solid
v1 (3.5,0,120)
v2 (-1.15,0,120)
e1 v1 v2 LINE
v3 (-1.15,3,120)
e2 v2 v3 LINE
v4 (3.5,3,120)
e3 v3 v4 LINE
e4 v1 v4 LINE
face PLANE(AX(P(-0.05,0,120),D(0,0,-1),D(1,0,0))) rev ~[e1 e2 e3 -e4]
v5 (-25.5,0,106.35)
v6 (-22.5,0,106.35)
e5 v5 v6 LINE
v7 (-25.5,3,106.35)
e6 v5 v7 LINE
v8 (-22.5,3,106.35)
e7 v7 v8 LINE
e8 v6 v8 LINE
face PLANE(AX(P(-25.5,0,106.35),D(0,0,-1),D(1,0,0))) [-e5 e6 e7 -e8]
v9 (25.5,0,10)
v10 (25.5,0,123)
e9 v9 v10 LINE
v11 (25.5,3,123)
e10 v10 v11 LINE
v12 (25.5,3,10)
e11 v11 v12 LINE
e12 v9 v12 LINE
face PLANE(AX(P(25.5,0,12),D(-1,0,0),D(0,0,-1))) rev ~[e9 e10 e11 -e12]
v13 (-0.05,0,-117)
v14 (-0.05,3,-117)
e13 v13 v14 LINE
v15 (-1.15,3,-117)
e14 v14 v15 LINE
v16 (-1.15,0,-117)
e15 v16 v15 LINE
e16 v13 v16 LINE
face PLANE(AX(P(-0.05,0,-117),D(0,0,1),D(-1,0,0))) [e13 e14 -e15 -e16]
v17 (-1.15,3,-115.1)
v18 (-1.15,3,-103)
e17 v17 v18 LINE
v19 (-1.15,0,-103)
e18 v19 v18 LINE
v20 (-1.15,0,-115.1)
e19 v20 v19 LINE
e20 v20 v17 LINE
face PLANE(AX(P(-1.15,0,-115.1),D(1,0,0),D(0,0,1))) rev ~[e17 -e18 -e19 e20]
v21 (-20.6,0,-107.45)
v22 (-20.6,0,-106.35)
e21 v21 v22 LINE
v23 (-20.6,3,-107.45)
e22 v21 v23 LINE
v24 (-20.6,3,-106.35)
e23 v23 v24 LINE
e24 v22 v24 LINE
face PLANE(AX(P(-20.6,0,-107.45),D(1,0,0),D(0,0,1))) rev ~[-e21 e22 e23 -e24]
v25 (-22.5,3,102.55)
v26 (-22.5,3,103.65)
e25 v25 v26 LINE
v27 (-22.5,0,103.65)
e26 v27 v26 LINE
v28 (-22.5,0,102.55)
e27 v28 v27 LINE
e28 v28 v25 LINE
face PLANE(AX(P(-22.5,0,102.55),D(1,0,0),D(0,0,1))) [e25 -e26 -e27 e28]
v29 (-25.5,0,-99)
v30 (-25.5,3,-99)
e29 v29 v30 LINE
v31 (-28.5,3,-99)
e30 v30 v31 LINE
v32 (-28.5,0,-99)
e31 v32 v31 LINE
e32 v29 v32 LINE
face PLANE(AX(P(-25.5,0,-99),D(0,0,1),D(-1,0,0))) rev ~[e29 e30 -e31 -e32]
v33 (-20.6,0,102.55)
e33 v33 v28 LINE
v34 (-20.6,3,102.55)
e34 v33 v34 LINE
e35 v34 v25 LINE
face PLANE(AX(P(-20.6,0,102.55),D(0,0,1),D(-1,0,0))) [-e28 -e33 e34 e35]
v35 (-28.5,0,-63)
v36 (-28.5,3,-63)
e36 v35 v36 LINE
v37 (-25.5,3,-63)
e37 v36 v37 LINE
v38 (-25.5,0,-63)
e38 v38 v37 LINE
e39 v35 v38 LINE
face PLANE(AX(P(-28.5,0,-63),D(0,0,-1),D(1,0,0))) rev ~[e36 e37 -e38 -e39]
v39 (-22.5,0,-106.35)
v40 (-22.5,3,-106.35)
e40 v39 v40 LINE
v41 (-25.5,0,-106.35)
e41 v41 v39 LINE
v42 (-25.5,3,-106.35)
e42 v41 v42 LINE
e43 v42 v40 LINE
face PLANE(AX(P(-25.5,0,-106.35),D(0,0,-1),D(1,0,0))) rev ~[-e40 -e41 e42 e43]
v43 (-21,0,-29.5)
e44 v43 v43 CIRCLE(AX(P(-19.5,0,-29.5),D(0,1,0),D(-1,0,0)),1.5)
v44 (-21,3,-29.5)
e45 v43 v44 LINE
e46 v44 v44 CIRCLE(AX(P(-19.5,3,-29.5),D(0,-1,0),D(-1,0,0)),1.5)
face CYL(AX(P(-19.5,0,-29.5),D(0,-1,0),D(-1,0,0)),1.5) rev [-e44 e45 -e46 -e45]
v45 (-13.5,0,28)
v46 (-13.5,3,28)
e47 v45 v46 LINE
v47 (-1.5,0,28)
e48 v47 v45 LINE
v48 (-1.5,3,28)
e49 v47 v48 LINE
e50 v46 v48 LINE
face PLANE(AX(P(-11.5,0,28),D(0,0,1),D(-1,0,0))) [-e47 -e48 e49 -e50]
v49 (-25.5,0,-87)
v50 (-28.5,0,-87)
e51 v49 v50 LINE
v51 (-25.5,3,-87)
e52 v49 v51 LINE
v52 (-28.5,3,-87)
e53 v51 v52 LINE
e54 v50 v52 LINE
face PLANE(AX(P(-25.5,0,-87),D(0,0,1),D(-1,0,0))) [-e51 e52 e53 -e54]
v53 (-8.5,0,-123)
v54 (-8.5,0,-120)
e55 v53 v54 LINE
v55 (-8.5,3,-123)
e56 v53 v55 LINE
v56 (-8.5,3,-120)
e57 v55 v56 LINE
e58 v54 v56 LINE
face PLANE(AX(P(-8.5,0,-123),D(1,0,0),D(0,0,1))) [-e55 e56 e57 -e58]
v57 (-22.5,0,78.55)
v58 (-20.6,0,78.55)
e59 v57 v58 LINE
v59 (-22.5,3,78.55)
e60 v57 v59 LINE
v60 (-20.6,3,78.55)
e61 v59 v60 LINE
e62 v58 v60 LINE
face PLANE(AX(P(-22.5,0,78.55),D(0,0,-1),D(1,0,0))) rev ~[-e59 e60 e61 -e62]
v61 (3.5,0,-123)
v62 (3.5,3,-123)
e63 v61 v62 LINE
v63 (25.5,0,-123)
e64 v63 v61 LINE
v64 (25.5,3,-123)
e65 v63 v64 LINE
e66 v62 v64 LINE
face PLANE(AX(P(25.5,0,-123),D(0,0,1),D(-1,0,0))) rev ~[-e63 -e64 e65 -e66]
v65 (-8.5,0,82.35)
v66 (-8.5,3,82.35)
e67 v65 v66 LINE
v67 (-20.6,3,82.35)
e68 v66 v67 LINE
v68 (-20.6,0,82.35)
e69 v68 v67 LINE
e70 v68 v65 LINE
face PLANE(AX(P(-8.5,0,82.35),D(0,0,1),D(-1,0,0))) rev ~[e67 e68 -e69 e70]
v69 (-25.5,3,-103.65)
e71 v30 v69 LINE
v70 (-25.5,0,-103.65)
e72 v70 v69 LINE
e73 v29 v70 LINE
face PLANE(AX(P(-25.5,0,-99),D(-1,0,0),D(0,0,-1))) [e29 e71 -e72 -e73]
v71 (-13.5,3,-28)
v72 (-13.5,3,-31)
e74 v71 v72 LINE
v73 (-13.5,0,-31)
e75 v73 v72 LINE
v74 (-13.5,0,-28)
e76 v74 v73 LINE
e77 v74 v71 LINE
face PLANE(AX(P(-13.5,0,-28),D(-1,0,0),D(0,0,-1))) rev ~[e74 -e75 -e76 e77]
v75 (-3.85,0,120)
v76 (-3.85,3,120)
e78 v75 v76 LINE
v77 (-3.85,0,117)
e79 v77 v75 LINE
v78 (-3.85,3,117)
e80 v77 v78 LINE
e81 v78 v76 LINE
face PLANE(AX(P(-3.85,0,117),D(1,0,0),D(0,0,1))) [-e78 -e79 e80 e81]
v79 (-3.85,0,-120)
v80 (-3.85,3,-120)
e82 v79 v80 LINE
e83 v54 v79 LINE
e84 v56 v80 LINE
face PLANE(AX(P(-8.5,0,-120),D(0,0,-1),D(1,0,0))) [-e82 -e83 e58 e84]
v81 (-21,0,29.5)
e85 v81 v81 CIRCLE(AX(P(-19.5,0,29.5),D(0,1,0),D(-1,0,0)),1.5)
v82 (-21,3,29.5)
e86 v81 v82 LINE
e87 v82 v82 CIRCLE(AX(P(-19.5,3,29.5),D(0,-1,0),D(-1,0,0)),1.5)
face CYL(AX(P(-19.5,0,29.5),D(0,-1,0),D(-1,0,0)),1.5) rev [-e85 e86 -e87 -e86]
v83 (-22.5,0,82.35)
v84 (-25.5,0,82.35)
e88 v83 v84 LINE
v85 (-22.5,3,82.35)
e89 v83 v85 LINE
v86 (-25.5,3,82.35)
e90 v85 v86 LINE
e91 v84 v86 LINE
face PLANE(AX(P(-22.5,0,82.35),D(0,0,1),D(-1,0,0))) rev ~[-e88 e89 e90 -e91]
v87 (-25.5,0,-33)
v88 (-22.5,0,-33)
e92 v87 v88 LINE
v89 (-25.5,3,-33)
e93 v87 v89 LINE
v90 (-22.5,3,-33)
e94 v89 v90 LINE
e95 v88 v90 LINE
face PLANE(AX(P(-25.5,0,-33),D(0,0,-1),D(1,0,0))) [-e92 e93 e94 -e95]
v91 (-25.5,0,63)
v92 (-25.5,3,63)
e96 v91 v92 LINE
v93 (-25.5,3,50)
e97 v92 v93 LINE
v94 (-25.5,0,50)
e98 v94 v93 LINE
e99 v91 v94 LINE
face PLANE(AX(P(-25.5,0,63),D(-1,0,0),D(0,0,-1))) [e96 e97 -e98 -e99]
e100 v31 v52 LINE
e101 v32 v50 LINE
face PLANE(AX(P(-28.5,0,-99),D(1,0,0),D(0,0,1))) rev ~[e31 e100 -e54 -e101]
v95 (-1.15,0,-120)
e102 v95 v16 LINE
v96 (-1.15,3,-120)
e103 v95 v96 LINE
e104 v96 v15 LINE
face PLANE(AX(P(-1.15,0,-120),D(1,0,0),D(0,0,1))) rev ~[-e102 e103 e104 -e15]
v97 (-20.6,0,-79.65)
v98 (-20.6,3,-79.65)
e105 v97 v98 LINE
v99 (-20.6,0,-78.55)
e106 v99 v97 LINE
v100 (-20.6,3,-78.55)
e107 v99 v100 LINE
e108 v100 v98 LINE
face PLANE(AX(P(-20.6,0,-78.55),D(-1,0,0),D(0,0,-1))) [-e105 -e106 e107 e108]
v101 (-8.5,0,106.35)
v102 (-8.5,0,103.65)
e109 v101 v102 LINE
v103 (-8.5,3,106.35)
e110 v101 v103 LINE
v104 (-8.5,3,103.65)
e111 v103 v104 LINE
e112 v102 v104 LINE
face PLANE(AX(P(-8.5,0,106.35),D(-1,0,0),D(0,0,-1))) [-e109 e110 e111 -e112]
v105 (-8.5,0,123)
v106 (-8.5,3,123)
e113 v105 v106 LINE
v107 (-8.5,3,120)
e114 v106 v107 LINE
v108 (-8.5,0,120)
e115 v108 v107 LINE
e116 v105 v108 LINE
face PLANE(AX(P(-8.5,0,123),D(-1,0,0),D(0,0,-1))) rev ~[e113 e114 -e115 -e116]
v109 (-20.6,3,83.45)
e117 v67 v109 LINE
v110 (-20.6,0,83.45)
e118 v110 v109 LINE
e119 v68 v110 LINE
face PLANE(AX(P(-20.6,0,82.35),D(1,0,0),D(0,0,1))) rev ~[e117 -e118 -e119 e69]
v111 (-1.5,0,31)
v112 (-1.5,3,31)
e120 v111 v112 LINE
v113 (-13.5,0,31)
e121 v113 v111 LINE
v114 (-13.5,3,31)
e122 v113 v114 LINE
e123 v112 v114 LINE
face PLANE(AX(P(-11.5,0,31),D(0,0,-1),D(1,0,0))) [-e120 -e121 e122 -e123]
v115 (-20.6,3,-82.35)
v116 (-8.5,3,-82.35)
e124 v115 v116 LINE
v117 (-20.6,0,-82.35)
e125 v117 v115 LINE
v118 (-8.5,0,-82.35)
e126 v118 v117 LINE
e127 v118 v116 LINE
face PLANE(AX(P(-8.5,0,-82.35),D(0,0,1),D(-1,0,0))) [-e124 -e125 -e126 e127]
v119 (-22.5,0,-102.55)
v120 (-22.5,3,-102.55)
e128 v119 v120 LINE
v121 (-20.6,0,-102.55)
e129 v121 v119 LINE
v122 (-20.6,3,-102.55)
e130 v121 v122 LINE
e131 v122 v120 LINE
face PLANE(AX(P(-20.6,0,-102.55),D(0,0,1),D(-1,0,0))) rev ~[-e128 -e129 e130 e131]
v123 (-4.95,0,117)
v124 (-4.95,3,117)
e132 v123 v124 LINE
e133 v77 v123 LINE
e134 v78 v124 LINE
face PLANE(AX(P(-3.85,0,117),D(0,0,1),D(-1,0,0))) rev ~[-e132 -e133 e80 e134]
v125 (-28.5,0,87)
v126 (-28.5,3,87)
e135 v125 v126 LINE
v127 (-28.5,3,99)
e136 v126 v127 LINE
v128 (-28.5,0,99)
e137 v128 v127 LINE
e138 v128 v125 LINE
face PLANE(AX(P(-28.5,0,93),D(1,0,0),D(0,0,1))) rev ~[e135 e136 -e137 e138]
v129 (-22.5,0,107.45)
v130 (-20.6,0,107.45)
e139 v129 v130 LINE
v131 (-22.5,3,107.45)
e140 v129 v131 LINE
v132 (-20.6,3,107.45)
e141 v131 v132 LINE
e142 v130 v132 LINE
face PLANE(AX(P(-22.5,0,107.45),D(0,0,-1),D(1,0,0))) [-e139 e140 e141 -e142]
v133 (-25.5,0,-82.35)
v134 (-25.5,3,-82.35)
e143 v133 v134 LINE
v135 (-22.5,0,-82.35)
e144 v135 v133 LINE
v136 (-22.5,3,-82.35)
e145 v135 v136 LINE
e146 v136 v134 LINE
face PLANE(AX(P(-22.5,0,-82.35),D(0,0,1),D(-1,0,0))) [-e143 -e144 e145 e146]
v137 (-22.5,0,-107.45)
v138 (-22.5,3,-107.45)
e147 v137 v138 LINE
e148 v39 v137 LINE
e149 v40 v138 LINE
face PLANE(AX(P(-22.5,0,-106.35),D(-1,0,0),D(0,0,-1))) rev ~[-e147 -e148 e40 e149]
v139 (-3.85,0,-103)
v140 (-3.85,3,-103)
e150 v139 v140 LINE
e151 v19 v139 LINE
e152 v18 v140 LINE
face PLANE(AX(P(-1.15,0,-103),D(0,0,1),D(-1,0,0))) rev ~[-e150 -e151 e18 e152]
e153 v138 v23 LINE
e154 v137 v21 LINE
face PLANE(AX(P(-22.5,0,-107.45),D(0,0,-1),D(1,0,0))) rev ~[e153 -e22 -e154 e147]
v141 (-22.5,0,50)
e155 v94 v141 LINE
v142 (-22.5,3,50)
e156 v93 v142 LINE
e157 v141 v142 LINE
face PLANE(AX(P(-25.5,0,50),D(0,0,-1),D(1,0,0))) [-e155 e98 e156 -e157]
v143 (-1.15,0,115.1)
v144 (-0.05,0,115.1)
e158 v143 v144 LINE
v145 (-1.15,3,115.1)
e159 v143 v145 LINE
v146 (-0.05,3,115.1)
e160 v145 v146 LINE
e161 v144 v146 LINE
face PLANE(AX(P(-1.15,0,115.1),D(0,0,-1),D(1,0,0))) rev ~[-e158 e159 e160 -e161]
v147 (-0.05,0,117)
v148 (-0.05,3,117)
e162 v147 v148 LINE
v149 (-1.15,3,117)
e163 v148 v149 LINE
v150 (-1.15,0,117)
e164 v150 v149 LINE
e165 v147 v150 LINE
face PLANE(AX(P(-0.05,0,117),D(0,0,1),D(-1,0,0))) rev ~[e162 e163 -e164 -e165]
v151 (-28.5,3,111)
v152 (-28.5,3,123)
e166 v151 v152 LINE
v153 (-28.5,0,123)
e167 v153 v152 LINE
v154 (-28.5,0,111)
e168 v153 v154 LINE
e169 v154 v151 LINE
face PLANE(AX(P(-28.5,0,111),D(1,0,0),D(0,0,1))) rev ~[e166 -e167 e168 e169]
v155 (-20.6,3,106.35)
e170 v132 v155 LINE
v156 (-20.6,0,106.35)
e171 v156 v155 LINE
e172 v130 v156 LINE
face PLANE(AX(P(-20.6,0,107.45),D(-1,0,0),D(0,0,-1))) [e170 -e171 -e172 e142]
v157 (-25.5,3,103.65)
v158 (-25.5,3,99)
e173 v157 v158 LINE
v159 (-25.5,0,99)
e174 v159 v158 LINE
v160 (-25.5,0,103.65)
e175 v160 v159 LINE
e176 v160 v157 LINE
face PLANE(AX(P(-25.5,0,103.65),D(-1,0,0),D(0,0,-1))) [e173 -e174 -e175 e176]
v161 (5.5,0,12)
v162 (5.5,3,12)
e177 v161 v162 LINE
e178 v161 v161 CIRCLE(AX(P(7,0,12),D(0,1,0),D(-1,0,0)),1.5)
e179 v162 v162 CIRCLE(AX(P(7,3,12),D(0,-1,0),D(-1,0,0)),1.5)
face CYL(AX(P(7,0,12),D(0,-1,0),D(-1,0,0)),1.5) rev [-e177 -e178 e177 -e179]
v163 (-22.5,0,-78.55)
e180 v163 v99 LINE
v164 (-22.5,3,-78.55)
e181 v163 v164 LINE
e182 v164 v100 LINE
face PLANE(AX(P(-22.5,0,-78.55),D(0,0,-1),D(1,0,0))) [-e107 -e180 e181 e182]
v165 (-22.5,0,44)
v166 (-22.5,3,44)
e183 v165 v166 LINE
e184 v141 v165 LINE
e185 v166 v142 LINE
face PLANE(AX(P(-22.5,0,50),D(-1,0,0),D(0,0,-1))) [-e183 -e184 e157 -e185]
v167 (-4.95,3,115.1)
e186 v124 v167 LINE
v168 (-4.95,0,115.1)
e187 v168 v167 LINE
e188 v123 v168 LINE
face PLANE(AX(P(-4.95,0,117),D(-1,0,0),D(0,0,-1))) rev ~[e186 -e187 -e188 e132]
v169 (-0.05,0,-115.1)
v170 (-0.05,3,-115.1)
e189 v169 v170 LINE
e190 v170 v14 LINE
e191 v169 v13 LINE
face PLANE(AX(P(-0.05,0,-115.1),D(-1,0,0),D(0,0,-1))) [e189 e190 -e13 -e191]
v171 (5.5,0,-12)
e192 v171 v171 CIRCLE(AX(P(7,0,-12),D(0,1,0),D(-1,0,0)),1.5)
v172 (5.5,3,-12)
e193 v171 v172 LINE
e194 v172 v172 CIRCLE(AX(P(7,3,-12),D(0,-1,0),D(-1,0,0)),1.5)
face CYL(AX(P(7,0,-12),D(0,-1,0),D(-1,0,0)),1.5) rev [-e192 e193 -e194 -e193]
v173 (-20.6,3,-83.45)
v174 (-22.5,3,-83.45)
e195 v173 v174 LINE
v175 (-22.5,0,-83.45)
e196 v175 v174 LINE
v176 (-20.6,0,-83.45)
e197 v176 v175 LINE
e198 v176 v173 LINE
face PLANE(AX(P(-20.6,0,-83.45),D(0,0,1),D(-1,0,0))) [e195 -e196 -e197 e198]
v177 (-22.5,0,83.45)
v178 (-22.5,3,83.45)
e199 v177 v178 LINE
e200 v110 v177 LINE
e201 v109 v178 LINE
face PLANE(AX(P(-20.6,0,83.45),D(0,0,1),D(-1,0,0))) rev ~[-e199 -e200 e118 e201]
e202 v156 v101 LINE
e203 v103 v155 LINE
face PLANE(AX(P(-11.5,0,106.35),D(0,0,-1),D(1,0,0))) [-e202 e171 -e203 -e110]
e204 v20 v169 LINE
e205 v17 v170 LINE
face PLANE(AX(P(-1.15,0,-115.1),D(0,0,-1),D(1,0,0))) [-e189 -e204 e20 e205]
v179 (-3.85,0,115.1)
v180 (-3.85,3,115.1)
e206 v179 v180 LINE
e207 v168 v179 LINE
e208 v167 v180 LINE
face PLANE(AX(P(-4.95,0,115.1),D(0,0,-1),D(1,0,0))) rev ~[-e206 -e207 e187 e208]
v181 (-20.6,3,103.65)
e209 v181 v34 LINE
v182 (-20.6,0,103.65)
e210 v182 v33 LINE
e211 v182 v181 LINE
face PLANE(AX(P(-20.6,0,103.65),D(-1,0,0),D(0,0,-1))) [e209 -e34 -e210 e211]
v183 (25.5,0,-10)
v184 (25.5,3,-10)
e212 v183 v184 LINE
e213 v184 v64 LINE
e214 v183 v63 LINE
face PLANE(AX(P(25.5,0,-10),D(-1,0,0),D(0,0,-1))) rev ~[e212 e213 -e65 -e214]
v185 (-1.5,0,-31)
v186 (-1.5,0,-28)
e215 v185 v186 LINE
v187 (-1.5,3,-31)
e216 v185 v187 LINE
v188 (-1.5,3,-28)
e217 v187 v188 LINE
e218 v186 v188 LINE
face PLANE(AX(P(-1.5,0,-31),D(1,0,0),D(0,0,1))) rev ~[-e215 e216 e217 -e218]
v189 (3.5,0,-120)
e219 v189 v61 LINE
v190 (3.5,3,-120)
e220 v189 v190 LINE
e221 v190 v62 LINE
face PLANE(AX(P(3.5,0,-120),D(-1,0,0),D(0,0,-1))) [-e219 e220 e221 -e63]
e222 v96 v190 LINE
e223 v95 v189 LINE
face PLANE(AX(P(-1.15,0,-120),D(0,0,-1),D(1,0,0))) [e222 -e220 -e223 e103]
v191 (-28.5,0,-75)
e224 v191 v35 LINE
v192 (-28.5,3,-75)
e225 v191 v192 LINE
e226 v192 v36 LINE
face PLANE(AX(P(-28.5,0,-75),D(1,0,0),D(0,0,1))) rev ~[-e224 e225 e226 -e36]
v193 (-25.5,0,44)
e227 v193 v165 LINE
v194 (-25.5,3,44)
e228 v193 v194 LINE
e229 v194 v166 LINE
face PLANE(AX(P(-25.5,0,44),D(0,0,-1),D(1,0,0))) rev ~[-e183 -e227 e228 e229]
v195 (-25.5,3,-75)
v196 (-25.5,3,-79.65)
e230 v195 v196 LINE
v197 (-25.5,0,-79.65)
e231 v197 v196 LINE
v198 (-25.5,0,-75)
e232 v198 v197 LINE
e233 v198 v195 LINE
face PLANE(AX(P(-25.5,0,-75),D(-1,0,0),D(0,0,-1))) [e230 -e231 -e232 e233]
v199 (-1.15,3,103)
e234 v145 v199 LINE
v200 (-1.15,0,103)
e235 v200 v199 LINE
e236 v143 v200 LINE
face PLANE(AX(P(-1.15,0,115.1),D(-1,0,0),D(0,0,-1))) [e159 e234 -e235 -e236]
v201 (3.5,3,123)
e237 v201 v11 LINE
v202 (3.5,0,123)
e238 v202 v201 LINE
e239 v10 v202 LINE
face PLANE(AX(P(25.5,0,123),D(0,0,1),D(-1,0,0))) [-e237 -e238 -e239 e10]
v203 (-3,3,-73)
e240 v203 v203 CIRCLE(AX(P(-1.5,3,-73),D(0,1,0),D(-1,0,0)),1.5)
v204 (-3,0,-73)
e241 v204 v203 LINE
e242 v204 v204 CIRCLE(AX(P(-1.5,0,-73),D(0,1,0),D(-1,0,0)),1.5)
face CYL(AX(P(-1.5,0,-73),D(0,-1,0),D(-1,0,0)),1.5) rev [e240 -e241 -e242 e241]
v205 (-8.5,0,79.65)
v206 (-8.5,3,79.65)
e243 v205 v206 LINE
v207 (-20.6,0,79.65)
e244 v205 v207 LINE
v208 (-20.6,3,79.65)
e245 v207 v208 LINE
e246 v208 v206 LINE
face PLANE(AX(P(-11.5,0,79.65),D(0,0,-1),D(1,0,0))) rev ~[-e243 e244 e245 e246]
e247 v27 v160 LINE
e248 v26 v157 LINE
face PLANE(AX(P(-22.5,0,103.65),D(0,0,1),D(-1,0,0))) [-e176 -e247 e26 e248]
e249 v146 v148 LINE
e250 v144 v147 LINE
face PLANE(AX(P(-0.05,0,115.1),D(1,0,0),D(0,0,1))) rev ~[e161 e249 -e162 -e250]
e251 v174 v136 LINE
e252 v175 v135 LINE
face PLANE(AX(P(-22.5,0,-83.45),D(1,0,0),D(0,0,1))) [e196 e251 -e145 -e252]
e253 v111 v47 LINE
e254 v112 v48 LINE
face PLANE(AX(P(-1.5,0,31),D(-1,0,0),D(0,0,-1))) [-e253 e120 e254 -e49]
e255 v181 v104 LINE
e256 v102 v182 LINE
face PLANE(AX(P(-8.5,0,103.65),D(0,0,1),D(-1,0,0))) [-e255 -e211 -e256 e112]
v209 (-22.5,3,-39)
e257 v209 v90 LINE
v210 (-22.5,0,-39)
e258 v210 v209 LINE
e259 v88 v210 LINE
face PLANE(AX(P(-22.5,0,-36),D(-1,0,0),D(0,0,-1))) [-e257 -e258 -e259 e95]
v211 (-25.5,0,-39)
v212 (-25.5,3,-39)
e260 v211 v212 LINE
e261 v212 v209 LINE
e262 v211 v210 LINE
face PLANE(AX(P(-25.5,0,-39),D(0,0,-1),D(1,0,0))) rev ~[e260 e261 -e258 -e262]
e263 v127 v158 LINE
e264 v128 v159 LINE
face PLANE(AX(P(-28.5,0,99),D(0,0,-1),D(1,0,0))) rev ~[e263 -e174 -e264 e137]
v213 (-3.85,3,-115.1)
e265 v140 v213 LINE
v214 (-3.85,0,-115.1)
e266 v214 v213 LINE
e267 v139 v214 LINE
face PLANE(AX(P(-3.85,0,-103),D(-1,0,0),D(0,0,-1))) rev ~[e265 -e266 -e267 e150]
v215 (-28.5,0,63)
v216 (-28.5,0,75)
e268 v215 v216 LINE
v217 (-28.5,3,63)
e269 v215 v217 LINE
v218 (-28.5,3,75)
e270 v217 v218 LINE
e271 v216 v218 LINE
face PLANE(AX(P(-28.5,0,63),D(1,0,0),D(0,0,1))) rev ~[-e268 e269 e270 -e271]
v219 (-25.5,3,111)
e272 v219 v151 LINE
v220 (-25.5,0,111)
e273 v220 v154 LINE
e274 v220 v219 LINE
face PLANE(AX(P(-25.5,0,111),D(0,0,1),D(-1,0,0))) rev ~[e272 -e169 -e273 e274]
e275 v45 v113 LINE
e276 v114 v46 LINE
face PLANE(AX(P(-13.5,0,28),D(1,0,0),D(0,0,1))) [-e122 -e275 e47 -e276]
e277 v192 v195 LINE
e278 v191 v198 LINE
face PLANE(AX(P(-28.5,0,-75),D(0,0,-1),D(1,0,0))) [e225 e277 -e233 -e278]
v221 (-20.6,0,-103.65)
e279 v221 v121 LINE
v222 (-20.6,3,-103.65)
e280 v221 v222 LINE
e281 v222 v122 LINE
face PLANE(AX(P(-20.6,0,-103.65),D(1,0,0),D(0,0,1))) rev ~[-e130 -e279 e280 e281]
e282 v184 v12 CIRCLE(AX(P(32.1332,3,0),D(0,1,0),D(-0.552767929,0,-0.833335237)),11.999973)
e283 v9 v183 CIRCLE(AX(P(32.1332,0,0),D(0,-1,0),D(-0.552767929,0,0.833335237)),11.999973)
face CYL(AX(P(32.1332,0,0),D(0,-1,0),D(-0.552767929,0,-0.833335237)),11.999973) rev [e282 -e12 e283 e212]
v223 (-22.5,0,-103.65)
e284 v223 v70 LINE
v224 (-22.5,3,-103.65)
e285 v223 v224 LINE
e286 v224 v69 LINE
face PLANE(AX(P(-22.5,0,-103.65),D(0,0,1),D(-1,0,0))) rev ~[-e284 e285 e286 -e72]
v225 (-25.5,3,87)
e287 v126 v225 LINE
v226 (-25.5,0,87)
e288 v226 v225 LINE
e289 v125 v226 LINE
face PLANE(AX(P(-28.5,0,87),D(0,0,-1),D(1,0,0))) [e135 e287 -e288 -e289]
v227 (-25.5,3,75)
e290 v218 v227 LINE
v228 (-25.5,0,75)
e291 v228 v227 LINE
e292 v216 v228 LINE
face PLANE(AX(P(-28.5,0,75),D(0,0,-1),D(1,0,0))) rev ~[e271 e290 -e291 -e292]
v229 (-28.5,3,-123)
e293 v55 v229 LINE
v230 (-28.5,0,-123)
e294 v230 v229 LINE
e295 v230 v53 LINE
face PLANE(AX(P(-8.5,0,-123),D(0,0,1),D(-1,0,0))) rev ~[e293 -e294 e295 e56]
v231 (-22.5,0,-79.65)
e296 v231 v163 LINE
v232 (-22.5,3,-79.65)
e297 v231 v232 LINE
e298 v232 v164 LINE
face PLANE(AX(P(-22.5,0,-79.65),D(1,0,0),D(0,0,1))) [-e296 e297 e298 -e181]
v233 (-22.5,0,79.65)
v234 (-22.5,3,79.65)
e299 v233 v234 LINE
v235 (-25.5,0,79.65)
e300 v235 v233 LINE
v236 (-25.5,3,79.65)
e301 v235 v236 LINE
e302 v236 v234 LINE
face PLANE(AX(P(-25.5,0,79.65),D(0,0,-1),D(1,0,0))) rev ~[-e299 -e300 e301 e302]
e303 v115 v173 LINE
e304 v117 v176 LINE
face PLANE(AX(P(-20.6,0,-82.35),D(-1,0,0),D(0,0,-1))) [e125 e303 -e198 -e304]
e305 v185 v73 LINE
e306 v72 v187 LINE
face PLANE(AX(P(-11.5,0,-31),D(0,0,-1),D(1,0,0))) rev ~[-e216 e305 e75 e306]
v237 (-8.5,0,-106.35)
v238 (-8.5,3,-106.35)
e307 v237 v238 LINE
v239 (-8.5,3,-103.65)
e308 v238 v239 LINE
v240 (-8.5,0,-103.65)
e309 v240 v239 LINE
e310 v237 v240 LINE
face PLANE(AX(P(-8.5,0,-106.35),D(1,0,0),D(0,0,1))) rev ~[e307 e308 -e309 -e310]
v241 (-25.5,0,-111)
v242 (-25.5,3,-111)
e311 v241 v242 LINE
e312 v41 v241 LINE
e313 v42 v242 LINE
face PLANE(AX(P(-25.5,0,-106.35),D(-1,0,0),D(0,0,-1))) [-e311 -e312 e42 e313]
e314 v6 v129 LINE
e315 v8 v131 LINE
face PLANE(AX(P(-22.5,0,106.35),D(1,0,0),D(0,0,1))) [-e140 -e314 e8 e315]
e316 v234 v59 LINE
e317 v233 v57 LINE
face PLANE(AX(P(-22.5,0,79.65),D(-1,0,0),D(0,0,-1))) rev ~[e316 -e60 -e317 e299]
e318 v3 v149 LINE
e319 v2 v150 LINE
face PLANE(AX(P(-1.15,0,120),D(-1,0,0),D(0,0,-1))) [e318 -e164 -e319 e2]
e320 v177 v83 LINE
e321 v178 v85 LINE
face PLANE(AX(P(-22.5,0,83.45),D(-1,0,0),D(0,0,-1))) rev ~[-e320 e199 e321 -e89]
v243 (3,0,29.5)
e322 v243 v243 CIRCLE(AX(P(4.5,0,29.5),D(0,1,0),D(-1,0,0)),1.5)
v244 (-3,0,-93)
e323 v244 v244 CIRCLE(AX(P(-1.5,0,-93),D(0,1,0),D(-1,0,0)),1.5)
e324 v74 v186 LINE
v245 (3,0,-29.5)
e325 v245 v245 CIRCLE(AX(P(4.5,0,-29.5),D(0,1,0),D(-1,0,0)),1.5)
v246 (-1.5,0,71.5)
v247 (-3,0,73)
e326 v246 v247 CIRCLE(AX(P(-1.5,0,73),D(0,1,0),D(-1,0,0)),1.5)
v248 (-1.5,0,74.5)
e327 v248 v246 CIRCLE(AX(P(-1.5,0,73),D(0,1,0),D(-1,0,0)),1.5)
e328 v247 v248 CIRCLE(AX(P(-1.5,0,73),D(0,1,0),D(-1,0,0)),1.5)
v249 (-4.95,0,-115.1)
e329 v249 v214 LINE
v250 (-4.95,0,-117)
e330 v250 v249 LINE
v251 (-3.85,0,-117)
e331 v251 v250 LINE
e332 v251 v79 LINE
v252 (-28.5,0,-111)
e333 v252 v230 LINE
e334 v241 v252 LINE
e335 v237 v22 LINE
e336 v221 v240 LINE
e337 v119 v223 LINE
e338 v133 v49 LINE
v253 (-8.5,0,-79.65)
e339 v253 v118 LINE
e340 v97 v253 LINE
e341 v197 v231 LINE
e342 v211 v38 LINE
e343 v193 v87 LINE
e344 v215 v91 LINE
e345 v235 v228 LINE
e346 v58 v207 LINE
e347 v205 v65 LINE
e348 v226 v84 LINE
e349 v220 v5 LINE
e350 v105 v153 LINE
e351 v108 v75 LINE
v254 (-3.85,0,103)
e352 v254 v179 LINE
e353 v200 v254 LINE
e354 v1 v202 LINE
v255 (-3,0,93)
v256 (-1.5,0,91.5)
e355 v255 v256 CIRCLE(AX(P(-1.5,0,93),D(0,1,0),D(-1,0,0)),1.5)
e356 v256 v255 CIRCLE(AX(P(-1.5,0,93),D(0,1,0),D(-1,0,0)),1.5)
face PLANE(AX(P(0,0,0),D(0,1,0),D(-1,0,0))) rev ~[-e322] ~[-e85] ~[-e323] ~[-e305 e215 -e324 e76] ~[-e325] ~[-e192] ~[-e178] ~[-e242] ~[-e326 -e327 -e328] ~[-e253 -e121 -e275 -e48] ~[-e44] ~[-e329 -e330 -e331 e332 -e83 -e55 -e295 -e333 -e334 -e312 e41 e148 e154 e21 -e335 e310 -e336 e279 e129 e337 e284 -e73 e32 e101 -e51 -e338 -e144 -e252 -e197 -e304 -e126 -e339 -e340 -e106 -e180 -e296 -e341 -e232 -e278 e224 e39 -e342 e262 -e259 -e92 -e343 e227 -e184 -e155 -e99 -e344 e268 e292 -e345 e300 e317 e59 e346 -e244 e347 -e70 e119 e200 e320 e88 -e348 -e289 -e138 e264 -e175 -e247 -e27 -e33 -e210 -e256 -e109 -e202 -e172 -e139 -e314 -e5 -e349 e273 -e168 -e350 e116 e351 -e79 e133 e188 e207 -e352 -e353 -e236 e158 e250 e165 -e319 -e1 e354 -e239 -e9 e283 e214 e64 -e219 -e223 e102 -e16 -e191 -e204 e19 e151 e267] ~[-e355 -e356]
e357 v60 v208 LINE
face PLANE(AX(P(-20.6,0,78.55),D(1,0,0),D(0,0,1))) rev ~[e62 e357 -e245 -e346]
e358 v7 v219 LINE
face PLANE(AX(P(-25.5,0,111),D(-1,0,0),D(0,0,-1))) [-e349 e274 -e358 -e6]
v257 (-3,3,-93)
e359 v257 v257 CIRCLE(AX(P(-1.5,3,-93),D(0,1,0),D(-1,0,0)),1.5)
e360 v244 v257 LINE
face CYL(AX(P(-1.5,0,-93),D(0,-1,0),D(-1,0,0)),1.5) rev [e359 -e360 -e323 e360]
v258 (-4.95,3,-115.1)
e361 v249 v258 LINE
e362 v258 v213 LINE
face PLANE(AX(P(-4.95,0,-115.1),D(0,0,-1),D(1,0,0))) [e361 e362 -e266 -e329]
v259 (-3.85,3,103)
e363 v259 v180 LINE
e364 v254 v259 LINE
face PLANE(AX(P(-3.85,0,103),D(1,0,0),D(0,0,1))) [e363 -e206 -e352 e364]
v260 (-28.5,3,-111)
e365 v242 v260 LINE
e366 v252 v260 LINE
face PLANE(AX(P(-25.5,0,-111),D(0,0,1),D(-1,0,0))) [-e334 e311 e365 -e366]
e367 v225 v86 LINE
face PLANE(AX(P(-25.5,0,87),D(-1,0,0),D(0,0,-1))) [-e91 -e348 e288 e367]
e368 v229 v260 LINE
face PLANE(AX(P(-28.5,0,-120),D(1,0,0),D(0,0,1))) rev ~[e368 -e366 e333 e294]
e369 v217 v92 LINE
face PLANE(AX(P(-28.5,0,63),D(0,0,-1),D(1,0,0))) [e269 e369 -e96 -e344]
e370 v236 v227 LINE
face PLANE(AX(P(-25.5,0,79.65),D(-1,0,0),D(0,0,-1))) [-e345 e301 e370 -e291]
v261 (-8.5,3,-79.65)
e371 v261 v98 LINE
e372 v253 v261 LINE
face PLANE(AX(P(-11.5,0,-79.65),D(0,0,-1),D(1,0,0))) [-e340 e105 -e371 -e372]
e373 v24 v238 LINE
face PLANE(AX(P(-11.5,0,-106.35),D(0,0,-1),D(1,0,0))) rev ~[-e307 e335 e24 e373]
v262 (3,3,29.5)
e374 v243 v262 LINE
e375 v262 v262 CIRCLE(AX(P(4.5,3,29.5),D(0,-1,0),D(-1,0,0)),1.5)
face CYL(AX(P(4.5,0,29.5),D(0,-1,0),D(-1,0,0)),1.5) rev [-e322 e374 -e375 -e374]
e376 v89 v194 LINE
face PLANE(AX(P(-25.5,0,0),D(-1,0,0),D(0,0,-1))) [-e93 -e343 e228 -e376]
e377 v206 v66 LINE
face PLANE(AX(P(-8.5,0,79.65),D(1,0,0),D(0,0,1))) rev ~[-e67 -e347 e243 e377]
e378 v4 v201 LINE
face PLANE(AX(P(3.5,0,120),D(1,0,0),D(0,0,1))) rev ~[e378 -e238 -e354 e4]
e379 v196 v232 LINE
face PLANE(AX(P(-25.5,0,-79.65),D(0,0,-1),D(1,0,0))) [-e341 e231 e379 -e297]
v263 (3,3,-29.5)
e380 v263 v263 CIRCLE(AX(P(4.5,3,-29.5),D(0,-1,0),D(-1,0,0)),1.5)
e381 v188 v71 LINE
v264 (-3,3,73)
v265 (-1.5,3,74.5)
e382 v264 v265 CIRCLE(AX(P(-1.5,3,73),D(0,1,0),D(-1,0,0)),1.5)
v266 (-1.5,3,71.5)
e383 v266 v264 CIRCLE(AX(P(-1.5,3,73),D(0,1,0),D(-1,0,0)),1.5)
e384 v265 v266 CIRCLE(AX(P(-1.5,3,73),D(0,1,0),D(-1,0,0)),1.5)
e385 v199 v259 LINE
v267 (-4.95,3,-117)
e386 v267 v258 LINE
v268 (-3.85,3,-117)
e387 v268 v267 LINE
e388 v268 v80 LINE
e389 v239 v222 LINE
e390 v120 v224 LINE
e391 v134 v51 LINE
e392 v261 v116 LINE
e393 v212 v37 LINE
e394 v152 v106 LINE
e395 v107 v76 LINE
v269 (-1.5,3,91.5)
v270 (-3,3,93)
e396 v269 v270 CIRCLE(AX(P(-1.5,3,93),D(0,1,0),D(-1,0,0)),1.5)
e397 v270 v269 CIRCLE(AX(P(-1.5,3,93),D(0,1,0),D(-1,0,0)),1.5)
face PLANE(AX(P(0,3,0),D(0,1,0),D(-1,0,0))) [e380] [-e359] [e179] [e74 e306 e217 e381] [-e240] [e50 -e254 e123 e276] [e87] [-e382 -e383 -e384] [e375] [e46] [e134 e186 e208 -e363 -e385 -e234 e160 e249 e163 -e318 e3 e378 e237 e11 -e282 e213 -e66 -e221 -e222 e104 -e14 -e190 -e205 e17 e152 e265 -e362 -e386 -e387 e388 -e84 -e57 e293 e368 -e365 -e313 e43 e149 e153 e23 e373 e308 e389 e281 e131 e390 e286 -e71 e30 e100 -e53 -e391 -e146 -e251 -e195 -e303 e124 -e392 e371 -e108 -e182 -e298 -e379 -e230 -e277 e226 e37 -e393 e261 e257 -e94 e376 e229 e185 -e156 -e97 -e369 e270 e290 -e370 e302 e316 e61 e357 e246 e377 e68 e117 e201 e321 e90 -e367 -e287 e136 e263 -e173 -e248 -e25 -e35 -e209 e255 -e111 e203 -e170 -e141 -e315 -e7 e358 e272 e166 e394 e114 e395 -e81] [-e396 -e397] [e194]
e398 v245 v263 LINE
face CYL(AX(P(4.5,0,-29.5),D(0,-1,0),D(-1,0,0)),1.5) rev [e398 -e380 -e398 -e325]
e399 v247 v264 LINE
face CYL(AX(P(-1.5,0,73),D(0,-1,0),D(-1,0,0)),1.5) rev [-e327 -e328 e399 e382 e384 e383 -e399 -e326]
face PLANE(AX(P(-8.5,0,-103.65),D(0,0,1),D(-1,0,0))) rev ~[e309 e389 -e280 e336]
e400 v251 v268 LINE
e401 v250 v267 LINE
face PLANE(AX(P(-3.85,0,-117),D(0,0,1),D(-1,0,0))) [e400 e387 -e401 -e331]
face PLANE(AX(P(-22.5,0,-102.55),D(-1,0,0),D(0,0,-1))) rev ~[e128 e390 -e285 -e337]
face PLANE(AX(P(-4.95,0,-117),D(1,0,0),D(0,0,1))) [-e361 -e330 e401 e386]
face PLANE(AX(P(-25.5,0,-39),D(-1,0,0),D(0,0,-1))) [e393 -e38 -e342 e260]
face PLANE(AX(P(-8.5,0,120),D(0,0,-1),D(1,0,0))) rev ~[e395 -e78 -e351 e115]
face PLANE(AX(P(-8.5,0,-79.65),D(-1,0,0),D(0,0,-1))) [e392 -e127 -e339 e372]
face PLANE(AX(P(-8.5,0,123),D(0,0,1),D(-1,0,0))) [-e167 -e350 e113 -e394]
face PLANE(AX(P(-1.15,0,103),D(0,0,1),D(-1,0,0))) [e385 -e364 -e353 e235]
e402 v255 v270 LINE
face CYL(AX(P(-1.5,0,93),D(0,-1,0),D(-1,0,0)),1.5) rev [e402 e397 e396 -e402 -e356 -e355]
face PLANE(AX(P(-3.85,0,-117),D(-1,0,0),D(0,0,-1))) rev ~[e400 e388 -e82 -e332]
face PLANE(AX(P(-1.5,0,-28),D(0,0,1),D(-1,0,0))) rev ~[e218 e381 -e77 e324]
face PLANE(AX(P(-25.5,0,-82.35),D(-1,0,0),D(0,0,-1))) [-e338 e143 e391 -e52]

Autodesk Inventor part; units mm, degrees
ref_plane "YZ Plane" through (0, 0, 0) normal (1, 0, 0) x (0, 1, 0)
ref_plane "XZ Plane" through (0, 0, 0) normal (0, 1, 0) x (-1, 0, 0)
ref_plane "XY Plane" through (0, 0, 0) normal (0, 0, 1) x (1, 0, 0)
sketch "Эскиз1" plane through (0, 0, 0) normal (0, 1, 0) x (-1, 0, 0)
  line L0 (-28.5, -125) -> (28.5, -125)
  line L1 (28.5, -125) -> (28.5, 125)
  line L2 (28.5, 125) -> (-28.5, 125)
  line L3 (-28.5, 125) -> (-28.5, -125)
  line L4 (28.5, 125) -> (11.5, 125)
  line L5 (11.5, 125) -> (11.5, -125)
  line L6 (11.5, -125) -> (28.5, -125)
  line L7 (28.5, -125) -> (28.5, 125)
  line L8 (11.5, -125) -> (-8.5, -125)
  line L9 (-8.5, -125) -> (-8.5, 125)
  line L10 (-8.5, 125) -> (11.5, 125)
  line L11 (11.5, 125) -> (11.5, -125)
  line L12 (-8.5, 125) -> (-25.5, 125)
  line L13 (-25.5, 125) -> (-25.5, -125)
  line L14 (-25.5, -125) -> (-8.5, -125)
  line L15 (-8.5, -125) -> (-8.5, 125)
  line L16 (11.5, 14.5) -> (-8.5, 14.5)
  line L17 (-8.5, 14.5) -> (-8.5, -14.5)
  line L18 (-8.5, -14.5) -> (11.5, -14.5)
  line L19 (11.5, -14.5) -> (11.5, 14.5)
  line L20 (1.5, 0) -> (1.5, -14.5)
  line L21 (1.5, 0) -> (1.5, 14.5)
  line L22 (1.5, 0) -> (5.0733, 0)
  line L23 (1.5, 14.5) -> (1.5, 11.5)
  line L24 (28.5, 125) -> (25.5, 125)
  line L25 (25.5, 125) -> (25.5, -125)
  line L26 (25.5, -125) -> (28.5, -125)
  line L27 (28.5, -125) -> (28.5, 125)
  line L28 (28.5, 125) -> (25.5, 125)
  line L29 (25.5, 125) -> (25.5, 111)
  line L30 (25.5, 111) -> (28.5, 111)
  line L31 (28.5, 111) -> (28.5, 125)
  line L32 (25.5, 111) -> (28.5, 111)
  line L33 (28.5, 111) -> (28.5, 99)
  line L34 (28.5, 99) -> (25.5, 99)
  line L35 (25.5, 99) -> (25.5, 111)
  line L36 (25.5, 99) -> (28.5, 99)
  line L37 (28.5, 99) -> (28.5, 87)
  line L38 (28.5, 87) -> (25.5, 87)
  line L39 (25.5, 87) -> (25.5, 99)
  line L40 (25.5, 87) -> (28.5, 87)
  line L41 (28.5, 87) -> (28.5, 75)
  line L42 (28.5, 75) -> (25.5, 75)
  line L43 (25.5, 75) -> (25.5, 87)
  line L44 (25.5, 75) -> (28.5, 75)
  line L45 (28.5, 75) -> (28.5, 63)
  line L46 (28.5, 63) -> (25.5, 63)
  line L47 (25.5, 63) -> (25.5, 75)
  line L48 (28.5, 111) -> (28.5, 106.35)
  line L49 (28.5, 106.35) -> (8.5, 106.35)
  line L50 (8.5, 106.35) -> (8.5, 103.65)
  line L51 (8.5, 103.65) -> (28.5, 103.65)
  line L52 (28.5, 103.65) -> (28.5, 106.35)
  line L53 (25.5, 106.35) -> (22.5, 106.35)
  line L54 (22.5, 106.35) -> (22.5, 107.45)
  line L55 (22.5, 107.45) -> (25.5, 107.45)
  line L56 (25.5, 107.45) -> (25.5, 106.35)
  line L57 (22.5, 107.45) -> (20.6, 107.45)
  line L58 (20.6, 107.45) -> (20.6, 102.55)
  line L59 (20.6, 102.55) -> (22.5, 102.55)
  line L60 (22.5, 102.55) -> (22.5, 107.45)
  line L61 (28.5, 93) -> (26.2601, 93)
  line L62 (28.5, 79.65) -> (8.5, 79.65)
  line L63 (8.5, 82.35) -> (28.5, 82.35)
  line L64 (22.5, 78.55) -> (20.6, 78.55)
  line L65 (20.6, 78.55) -> (20.6, 83.45)
  line L66 (20.6, 83.45) -> (22.5, 83.45)
  line L67 (22.5, 83.45) -> (22.5, 78.55)
  line L68 (8.5, 79.65) -> (8.5, 82.35)
  line L69 (25.5, -111) -> (28.5, -111)
  line L70 (25.5, -87) -> (28.5, -87)
  line L71 (28.5, -75) -> (25.5, -75)
  line L72 (28.5, -63) -> (25.5, -63)
  line L73 (28.5, -106.35) -> (8.5, -106.35)
  line L74 (8.5, -106.35) -> (8.5, -103.65)
  line L75 (8.5, -103.65) -> (28.5, -103.65)
  line L76 (22.5, -107.45) -> (20.6, -107.45)
  line L77 (20.6, -107.45) -> (20.6, -102.55)
  line L78 (20.6, -102.55) -> (22.5, -102.55)
  line L79 (22.5, -102.55) -> (22.5, -107.45)
  line L80 (8.5, -82.35) -> (28.5, -82.35)
  line L81 (28.5, -79.65) -> (8.5, -79.65)
  line L82 (22.5, -83.45) -> (22.5, -78.55)
  line L83 (20.6, -78.55) -> (20.6, -83.45)
  line L84 (20.6, -83.45) -> (22.5, -83.45)
  line L85 (22.5, -78.55) -> (20.6, -78.55)
  line L86 (8.5, -79.65) -> (8.5, -82.35)
  line L87 (28.5, -87) -> (25.5, -87)
  line L88 (25.5, -99) -> (28.5, -99)
  line L89 (28.5, 125) -> (-28.5, 125)
  line L90 (-28.5, 125) -> (-28.5, 123)
  line L91 (-28.5, 123) -> (28.5, 123)
  line L92 (28.5, 123) -> (28.5, 125)
  line L93 (28.5, 123) -> (8.5, 123)
  line L94 (8.5, 123) -> (8.5, 120)
  line L95 (8.5, 120) -> (28.5, 120)
  line L96 (28.5, 120) -> (28.5, 123)
  line L97 (8.5, 120) -> (-3.5, 120)
  line L98 (-3.5, 120) -> (-3.5, 123)
  line L99 (-3.5, 123) -> (8.5, 123)
  line L100 (8.5, 123) -> (8.5, 120)
  line L101 (8.5, 123) -> (3.85, 123)
  line L102 (3.85, 123) -> (1.15, 123)
  line L103 (1.15, 123) -> (1.15, 103)
  line L104 (1.15, 103) -> (3.85, 103)
  line L105 (3.85, 103) -> (3.85, 123)
  line L106 (1.15, 120) -> (0.05, 120)
  line L107 (0.05, 120) -> (0.05, 117)
  line L108 (0.05, 117) -> (1.15, 117)
  line L109 (1.15, 117) -> (1.15, 120)
  line L110 (0.05, 117) -> (4.95, 117)
  line L111 (4.95, 117) -> (4.95, 115.1)
  line L112 (4.95, 115.1) -> (0.05, 115.1)
  line L113 (0.05, 115.1) -> (0.05, 117)
  line L114 (-28.5, -123) -> (28.5, -123)
  line L115 (8.5, -123) -> (8.5, -120)
  line L116 (8.5, -120) -> (28.5, -120)
  line L117 (8.5, -120) -> (-3.5, -120)
  line L118 (-3.5, -120) -> (-3.5, -123)
  line L119 (1.15, -123) -> (1.15, -103)
  line L120 (1.15, -103) -> (3.85, -103)
  line L121 (3.85, -103) -> (3.85, -123)
  line L122 (0.05, -117) -> (1.15, -117)
  line L123 (0.05, -117) -> (4.95, -117)
  line L124 (4.95, -117) -> (4.95, -115.1)
  line L125 (4.95, -115.1) -> (0.05, -115.1)
  line L126 (0.05, -115.1) -> (0.05, -117)
  line L127 (0, 0) -> (0, -36)
  line L128 (0, 0) -> (0, 47)
  line L129 (0, 47) -> (28.5, 47)
  line L130 (0, -36) -> (28.5, -36)
  line L131 (28.5, 47) -> (25.5, 47)
  line L132 (25.5, 47) -> (25.5, 45.5)
  line L133 (25.5, 45.5) -> (28.5, 45.5)
  line L134 (28.5, 45.5) -> (28.5, 47)
  line L135 (25.5, 45.5) -> (22.5, 45.5)
  line L136 (22.5, 45.5) -> (22.5, 48.5)
  line L137 (22.5, 48.5) -> (25.5, 48.5)
  line L138 (25.5, 48.5) -> (25.5, 45.5)
  line L139 (28.5, -36) -> (25.5, -36)
  line L140 (25.5, -36) -> (25.5, -34.5)
  line L141 (25.5, -34.5) -> (28.5, -34.5)
  line L142 (28.5, -34.5) -> (28.5, -36)
  line L143 (25.5, -34.5) -> (22.5, -34.5)
  line L144 (22.5, -34.5) -> (22.5, -37.5)
  line L145 (22.5, -37.5) -> (25.5, -37.5)
  line L146 (25.5, -37.5) -> (25.5, -34.5)
  line L147 (25.5, 0) -> (13.5, 0)
  line L148 (25.5, 20) -> (25.5, 0)
  line L149 (25.5, 0) -> (13.5, 0)
  line L150 (25.5, -20) -> (25.5, 0)
  line L151 (0, 0) -> (0, -47)
  line L152 (25.5, 0) -> (13.5, 0)
  line L153 (13.5, 0) -> (13.5, 29.5)
  line L154 (25.5, 29.5) -> (25.5, 0)
  line L155 (13.5, 29.5) -> (13.5, 28)
  line L156 (13.5, 28) -> (25.5, 28)
  line L157 (25.5, 28) -> (25.5, 29.5)
  line L158 (25.5, 28) -> (13.5, 28)
  line L159 (13.5, 28) -> (13.5, 31)
  line L160 (13.5, 31) -> (25.5, 31)
  line L161 (25.5, 31) -> (25.5, 28)
  line L162 (13.5, 31) -> (1.5, 31)
  line L163 (1.5, 31) -> (1.5, 28)
  line L164 (1.5, 28) -> (13.5, 28)
  line L165 (13.5, 28) -> (13.5, 31)
  line L166 (1.5, 31) -> (-10.5, 31)
  line L167 (-10.5, 31) -> (-10.5, 28)
  line L168 (-10.5, 28) -> (1.5, 28)
  line L169 (1.5, 28) -> (1.5, 31)
  circle A0 centre (19.5, 29.5) radius 1.5
  circle A1 centre (-4.5, 29.5) radius 1.5
  line L170 (11.5, -125) -> (11.5, 125)
  line L171 (13.5, -28) -> (25.5, -28)
  line L172 (13.5, -28) -> (13.5, -31)
  line L173 (13.5, -31) -> (25.5, -31)
  line L174 (13.5, -31) -> (1.5, -31)
  line L175 (1.5, -31) -> (1.5, -28)
  line L176 (1.5, -28) -> (13.5, -28)
  line L177 (1.5, -31) -> (-10.5, -31)
  line L178 (-10.5, -31) -> (-10.5, -28)
  line L179 (-10.5, -28) -> (1.5, -28)
  circle A2 centre (19.5, -29.5) radius 1.5
  circle A3 centre (-4.5, -29.5) radius 1.5
  line L180 (-25.5, 0) -> (-7, 0)
  line L181 (-7, 0) -> (-7, 12)
  line L182 (-7, 12) -> (-25.5, 12)
  line L183 (-25.5, 12) -> (-25.5, 0)
  circle A4 centre (-7, 12) radius 1.5
  circle A5 centre (-7, -12) radius 1.5
  line L184 (22.5, -36) -> (25.5, -36)
  line L185 (25.5, -36) -> (25.5, -39)
  line L186 (25.5, -39) -> (22.5, -39)
  line L187 (22.5, -39) -> (22.5, -36)
  line L188 (22.5, -36) -> (25.5, -36)
  line L189 (25.5, -36) -> (25.5, -33)
  line L190 (25.5, -33) -> (22.5, -33)
  line L191 (22.5, -33) -> (22.5, -36)
  line L192 (22.5, 47) -> (25.5, 47)
  line L193 (25.5, 47) -> (25.5, 50)
  line L194 (25.5, 50) -> (22.5, 50)
  line L195 (22.5, 50) -> (22.5, 47)
  line L196 (22.5, 47) -> (25.5, 47)
  line L197 (25.5, 47) -> (25.5, 44)
  line L198 (25.5, 44) -> (22.5, 44)
  line L199 (22.5, 44) -> (22.5, 47)
  line L200 (1.5, 0) -> (97.5, 0) construction
  line L201 (1.5, 0) -> (1.5, 93)
  line L202 (1.5, 0) -> (94.5, 0) construction
  circle A6 centre (1.5, 93) radius 1.5
  line L203 (1.5, 93) -> (1.5, 73)
  circle A7 centre (1.5, 73) radius 1.5
  circle A8 centre (1.5, -93) radius 1.5
  circle A9 centre (1.5, -73) radius 1.5
  line L204 (-22.5, -10) -> (-28.5, -10)
  line L205 (-28.5, -10) -> (-28.5, 10)
  line L206 (-28.5, 10) -> (-22.5, 10)
  line L207 (-22.5, 10) -> (-22.5, -10)
  line L208 (-22.5, -10) -> (-28.5, 10) construction
  line L209 (-28.5, -10) -> (-22.5, 10) construction
  arc A10 (-25.5, -10) -> (-25.5, 10) centre (-32.1332, 0) ccw
  point P0 (28.5, -111)
  point P1 (25.5, -111)
  point P2 (25.5, -106.35)
  point P3 (22.5, -106.35)
  point P4 (20.6, -106.35)
  point P5 (20.6, -103.65)
  point P6 (22.5, -103.65)
  point P7 (25.5, -103.65)
  point P8 (28.5, -87)
  point P9 (25.5, -87)
  point P10 (25.5, -82.35)
  point P11 (22.5, -82.35)
  point P12 (20.6, -82.35)
  point P13 (20.6, -79.65)
  point P14 (22.5, -79.65)
  point P15 (25.5, -79.65)
  point P16 (25.5, -75)
  point P17 (28.5, -75)
  point P18 (28.5, -63)
  point P19 (25.5, -63)
  point P20 (25.5, 79.65)
  point P21 (22.5, 79.65)
  point P22 (20.6, 79.65)
  point P23 (20.6, 82.35)
  point P24 (22.5, 82.35)
  point P25 (25.5, 82.35)
  point P26 (25.5, 103.65)
  point P27 (22.5, 103.65)
  point P28 (20.6, 103.65)
  point P29 (20.6, 106.35)
  point P30 (1.15, -120)
  point P31 (1.15, -117)
  point P32 (1.15, -115.1)
  point P33 (3.85, -115.1)
  point P34 (3.85, -117)
  point P35 (3.85, -120)
  point P36 (28.5, 123)
  point P37 (3.85, 120)
  point P38 (3.85, 117)
  point P39 (3.85, 115.1)
  point P40 (1.15, 115.1)
  point P41 (1.15, 117)
  point P42 (-28.5, -123)
  point P43 (25.5, 48.5)
  point P44 (25.5, -37.5)
  point P45 (-25.5, 123)
  point P46 (-25.5, -123)
  dimension "d0" = 57
  dimension "d1" = 250
  dimension "d2" = 17
  dimension "d3" = 20
  dimension "d4" = 17
  dimension "d5" = 29
  dimension "d6" = 3
  dimension "d8" = 3
  dimension "d9" = 14
  dimension "d10" = 12
  dimension "d11" = 12
  dimension "d12" = 12
  dimension "d13" = 12
  dimension "d14" = 4.65
  dimension "d15" = 20
  dimension "d16" = 2.7
  dimension "d17" = 3
  dimension "d18" = 1.1
  dimension "d19" = 1.9
  dimension "d20" = 4.9
  dimension "d23" = 2
  dimension "d24" = 20
  dimension "d25" = 3
  dimension "d26" = 12
  dimension "d27" = 4.65
  dimension "d28" = 2.7
  dimension "d29" = 20
  dimension "d30" = 1.1
  dimension "d31" = 3
  dimension "d32" = 4.9
  dimension "d33" = 1.9
  dimension "d34" = 2
  dimension "d35" = 36
  dimension "d37" = 1.5
  dimension "d38" = 3
  dimension "d39" = 3
  dimension "d40" = 1.5
  dimension "d41" = 3
  dimension "d42" = 47
  dimension "d52" = 12
  dimension "d53" = 29.5
  dimension "d54" = 1.5
  dimension "d55" = 3
  dimension "d56" = 12
  dimension "d57" = 12
  dimension "d58" = 3
  dimension "d59" = 18.5
  dimension "d60" = 12
  dimension "d61" = 3
  dimension "d62" = 3
  dimension "d63" = 3
  dimension "d64" = 3
  dimension "d65" = 3
  dimension "d68" = 93
  dimension "d69" = 90
  dimension "d70" = 3
  dimension "d71" = 20
  dimension "d72" = 3
  dimension "d73" = 20
  dimension "d74" = 12
extrude "Выдавливание1" add sketch "Эскиз1" along normal blind 3 contours L13 L204 L207 A10 L180 L9 L179 L178 L177 L114 | L9 L177 L127 L130 L5 L81 L86 L80 L75 L74 L73 L116 L117 L121 L123 L124 L125 L120 L119 L126 L122 L118 L114 | A10 L207 L204 | L114 L115 L116 L5 | L5 L116 L25 L114 | L177 L178 L179 L9 | L9 L179 A3 L177 | L13 L182 L9 L180 A10 L207 L206 | L206 L207 A10 | L25 L116 L1 L114 | L5 L73 L77 L76 L79 L25 L116 | L9 L18 L127 L179 | A3 L179 L127 L177 | L91 L9 L166 L167 L168 L182 L13 | L25 L69 L1 L116 | L9 L180 L181 A4 L16 L128 L127 L18 | L177 L174 L5 L130 L127 | L127 L179 L175 L177 | L9 A4 L181 L180 | L91 L98 L97 L107 L113 L112 L103 L104 L105 L111 L110 L95 L5 L49 L50 L51 L63 L68 L62 L129 L128 L166 L9 | L5 L80 L83 L84 L82 L25 L75 L79 L78 L77 | L127 L128 L16 L21 L20 L18 | L18 L5 L176 L179 L127 | L166 A1 L168 L9 | L9 L168 L167 L166 | L9 L168 L128 L16 | L20 L21 L16 L5 L18 | L130 L144 L187 L186 L25 L81 L82 L85 L83 L5 | L5 L174 L173 L25 L190 L191 L144 L130 | L166 L128 L168 A1 | L128 L168 L201 L16 | L5 L164 L153 L147 L25 L171 L176 | L172 L171 A2 L173 | L91 L25 L95 L5 | L5 L95 L94 L91 | L166 L163 L168 L128 | L128 L129 L201 L166 | L103 L108 L107 L97 | L201 L164 L5 L16 | L25 L70 L1 L88 | A2 L171 L25 L173 | L91 L1 L95 L25 | L95 L25 L55 L57 L58 L49 L5 | L201 L129 L5 L162 | L95 L1 L30 L25 | L5 L129 L136 L199 L198 L25 L160 L162 | L156 L25 L147 L153 | L153 L159 L160 A0 L156 | L1 L71 L25 L72 | L51 L58 L59 L60 L25 L63 L67 L66 L65 L5 | L5 L62 L65 L64 L67 L25 L194 L195 L136 L129 | A0 L160 L25 L156 | L25 L49 L54 L55 | L46 L25 L42 L1 | L1 L38 L25 L34
properties part number "перед" material "Древесина (дуб)"
